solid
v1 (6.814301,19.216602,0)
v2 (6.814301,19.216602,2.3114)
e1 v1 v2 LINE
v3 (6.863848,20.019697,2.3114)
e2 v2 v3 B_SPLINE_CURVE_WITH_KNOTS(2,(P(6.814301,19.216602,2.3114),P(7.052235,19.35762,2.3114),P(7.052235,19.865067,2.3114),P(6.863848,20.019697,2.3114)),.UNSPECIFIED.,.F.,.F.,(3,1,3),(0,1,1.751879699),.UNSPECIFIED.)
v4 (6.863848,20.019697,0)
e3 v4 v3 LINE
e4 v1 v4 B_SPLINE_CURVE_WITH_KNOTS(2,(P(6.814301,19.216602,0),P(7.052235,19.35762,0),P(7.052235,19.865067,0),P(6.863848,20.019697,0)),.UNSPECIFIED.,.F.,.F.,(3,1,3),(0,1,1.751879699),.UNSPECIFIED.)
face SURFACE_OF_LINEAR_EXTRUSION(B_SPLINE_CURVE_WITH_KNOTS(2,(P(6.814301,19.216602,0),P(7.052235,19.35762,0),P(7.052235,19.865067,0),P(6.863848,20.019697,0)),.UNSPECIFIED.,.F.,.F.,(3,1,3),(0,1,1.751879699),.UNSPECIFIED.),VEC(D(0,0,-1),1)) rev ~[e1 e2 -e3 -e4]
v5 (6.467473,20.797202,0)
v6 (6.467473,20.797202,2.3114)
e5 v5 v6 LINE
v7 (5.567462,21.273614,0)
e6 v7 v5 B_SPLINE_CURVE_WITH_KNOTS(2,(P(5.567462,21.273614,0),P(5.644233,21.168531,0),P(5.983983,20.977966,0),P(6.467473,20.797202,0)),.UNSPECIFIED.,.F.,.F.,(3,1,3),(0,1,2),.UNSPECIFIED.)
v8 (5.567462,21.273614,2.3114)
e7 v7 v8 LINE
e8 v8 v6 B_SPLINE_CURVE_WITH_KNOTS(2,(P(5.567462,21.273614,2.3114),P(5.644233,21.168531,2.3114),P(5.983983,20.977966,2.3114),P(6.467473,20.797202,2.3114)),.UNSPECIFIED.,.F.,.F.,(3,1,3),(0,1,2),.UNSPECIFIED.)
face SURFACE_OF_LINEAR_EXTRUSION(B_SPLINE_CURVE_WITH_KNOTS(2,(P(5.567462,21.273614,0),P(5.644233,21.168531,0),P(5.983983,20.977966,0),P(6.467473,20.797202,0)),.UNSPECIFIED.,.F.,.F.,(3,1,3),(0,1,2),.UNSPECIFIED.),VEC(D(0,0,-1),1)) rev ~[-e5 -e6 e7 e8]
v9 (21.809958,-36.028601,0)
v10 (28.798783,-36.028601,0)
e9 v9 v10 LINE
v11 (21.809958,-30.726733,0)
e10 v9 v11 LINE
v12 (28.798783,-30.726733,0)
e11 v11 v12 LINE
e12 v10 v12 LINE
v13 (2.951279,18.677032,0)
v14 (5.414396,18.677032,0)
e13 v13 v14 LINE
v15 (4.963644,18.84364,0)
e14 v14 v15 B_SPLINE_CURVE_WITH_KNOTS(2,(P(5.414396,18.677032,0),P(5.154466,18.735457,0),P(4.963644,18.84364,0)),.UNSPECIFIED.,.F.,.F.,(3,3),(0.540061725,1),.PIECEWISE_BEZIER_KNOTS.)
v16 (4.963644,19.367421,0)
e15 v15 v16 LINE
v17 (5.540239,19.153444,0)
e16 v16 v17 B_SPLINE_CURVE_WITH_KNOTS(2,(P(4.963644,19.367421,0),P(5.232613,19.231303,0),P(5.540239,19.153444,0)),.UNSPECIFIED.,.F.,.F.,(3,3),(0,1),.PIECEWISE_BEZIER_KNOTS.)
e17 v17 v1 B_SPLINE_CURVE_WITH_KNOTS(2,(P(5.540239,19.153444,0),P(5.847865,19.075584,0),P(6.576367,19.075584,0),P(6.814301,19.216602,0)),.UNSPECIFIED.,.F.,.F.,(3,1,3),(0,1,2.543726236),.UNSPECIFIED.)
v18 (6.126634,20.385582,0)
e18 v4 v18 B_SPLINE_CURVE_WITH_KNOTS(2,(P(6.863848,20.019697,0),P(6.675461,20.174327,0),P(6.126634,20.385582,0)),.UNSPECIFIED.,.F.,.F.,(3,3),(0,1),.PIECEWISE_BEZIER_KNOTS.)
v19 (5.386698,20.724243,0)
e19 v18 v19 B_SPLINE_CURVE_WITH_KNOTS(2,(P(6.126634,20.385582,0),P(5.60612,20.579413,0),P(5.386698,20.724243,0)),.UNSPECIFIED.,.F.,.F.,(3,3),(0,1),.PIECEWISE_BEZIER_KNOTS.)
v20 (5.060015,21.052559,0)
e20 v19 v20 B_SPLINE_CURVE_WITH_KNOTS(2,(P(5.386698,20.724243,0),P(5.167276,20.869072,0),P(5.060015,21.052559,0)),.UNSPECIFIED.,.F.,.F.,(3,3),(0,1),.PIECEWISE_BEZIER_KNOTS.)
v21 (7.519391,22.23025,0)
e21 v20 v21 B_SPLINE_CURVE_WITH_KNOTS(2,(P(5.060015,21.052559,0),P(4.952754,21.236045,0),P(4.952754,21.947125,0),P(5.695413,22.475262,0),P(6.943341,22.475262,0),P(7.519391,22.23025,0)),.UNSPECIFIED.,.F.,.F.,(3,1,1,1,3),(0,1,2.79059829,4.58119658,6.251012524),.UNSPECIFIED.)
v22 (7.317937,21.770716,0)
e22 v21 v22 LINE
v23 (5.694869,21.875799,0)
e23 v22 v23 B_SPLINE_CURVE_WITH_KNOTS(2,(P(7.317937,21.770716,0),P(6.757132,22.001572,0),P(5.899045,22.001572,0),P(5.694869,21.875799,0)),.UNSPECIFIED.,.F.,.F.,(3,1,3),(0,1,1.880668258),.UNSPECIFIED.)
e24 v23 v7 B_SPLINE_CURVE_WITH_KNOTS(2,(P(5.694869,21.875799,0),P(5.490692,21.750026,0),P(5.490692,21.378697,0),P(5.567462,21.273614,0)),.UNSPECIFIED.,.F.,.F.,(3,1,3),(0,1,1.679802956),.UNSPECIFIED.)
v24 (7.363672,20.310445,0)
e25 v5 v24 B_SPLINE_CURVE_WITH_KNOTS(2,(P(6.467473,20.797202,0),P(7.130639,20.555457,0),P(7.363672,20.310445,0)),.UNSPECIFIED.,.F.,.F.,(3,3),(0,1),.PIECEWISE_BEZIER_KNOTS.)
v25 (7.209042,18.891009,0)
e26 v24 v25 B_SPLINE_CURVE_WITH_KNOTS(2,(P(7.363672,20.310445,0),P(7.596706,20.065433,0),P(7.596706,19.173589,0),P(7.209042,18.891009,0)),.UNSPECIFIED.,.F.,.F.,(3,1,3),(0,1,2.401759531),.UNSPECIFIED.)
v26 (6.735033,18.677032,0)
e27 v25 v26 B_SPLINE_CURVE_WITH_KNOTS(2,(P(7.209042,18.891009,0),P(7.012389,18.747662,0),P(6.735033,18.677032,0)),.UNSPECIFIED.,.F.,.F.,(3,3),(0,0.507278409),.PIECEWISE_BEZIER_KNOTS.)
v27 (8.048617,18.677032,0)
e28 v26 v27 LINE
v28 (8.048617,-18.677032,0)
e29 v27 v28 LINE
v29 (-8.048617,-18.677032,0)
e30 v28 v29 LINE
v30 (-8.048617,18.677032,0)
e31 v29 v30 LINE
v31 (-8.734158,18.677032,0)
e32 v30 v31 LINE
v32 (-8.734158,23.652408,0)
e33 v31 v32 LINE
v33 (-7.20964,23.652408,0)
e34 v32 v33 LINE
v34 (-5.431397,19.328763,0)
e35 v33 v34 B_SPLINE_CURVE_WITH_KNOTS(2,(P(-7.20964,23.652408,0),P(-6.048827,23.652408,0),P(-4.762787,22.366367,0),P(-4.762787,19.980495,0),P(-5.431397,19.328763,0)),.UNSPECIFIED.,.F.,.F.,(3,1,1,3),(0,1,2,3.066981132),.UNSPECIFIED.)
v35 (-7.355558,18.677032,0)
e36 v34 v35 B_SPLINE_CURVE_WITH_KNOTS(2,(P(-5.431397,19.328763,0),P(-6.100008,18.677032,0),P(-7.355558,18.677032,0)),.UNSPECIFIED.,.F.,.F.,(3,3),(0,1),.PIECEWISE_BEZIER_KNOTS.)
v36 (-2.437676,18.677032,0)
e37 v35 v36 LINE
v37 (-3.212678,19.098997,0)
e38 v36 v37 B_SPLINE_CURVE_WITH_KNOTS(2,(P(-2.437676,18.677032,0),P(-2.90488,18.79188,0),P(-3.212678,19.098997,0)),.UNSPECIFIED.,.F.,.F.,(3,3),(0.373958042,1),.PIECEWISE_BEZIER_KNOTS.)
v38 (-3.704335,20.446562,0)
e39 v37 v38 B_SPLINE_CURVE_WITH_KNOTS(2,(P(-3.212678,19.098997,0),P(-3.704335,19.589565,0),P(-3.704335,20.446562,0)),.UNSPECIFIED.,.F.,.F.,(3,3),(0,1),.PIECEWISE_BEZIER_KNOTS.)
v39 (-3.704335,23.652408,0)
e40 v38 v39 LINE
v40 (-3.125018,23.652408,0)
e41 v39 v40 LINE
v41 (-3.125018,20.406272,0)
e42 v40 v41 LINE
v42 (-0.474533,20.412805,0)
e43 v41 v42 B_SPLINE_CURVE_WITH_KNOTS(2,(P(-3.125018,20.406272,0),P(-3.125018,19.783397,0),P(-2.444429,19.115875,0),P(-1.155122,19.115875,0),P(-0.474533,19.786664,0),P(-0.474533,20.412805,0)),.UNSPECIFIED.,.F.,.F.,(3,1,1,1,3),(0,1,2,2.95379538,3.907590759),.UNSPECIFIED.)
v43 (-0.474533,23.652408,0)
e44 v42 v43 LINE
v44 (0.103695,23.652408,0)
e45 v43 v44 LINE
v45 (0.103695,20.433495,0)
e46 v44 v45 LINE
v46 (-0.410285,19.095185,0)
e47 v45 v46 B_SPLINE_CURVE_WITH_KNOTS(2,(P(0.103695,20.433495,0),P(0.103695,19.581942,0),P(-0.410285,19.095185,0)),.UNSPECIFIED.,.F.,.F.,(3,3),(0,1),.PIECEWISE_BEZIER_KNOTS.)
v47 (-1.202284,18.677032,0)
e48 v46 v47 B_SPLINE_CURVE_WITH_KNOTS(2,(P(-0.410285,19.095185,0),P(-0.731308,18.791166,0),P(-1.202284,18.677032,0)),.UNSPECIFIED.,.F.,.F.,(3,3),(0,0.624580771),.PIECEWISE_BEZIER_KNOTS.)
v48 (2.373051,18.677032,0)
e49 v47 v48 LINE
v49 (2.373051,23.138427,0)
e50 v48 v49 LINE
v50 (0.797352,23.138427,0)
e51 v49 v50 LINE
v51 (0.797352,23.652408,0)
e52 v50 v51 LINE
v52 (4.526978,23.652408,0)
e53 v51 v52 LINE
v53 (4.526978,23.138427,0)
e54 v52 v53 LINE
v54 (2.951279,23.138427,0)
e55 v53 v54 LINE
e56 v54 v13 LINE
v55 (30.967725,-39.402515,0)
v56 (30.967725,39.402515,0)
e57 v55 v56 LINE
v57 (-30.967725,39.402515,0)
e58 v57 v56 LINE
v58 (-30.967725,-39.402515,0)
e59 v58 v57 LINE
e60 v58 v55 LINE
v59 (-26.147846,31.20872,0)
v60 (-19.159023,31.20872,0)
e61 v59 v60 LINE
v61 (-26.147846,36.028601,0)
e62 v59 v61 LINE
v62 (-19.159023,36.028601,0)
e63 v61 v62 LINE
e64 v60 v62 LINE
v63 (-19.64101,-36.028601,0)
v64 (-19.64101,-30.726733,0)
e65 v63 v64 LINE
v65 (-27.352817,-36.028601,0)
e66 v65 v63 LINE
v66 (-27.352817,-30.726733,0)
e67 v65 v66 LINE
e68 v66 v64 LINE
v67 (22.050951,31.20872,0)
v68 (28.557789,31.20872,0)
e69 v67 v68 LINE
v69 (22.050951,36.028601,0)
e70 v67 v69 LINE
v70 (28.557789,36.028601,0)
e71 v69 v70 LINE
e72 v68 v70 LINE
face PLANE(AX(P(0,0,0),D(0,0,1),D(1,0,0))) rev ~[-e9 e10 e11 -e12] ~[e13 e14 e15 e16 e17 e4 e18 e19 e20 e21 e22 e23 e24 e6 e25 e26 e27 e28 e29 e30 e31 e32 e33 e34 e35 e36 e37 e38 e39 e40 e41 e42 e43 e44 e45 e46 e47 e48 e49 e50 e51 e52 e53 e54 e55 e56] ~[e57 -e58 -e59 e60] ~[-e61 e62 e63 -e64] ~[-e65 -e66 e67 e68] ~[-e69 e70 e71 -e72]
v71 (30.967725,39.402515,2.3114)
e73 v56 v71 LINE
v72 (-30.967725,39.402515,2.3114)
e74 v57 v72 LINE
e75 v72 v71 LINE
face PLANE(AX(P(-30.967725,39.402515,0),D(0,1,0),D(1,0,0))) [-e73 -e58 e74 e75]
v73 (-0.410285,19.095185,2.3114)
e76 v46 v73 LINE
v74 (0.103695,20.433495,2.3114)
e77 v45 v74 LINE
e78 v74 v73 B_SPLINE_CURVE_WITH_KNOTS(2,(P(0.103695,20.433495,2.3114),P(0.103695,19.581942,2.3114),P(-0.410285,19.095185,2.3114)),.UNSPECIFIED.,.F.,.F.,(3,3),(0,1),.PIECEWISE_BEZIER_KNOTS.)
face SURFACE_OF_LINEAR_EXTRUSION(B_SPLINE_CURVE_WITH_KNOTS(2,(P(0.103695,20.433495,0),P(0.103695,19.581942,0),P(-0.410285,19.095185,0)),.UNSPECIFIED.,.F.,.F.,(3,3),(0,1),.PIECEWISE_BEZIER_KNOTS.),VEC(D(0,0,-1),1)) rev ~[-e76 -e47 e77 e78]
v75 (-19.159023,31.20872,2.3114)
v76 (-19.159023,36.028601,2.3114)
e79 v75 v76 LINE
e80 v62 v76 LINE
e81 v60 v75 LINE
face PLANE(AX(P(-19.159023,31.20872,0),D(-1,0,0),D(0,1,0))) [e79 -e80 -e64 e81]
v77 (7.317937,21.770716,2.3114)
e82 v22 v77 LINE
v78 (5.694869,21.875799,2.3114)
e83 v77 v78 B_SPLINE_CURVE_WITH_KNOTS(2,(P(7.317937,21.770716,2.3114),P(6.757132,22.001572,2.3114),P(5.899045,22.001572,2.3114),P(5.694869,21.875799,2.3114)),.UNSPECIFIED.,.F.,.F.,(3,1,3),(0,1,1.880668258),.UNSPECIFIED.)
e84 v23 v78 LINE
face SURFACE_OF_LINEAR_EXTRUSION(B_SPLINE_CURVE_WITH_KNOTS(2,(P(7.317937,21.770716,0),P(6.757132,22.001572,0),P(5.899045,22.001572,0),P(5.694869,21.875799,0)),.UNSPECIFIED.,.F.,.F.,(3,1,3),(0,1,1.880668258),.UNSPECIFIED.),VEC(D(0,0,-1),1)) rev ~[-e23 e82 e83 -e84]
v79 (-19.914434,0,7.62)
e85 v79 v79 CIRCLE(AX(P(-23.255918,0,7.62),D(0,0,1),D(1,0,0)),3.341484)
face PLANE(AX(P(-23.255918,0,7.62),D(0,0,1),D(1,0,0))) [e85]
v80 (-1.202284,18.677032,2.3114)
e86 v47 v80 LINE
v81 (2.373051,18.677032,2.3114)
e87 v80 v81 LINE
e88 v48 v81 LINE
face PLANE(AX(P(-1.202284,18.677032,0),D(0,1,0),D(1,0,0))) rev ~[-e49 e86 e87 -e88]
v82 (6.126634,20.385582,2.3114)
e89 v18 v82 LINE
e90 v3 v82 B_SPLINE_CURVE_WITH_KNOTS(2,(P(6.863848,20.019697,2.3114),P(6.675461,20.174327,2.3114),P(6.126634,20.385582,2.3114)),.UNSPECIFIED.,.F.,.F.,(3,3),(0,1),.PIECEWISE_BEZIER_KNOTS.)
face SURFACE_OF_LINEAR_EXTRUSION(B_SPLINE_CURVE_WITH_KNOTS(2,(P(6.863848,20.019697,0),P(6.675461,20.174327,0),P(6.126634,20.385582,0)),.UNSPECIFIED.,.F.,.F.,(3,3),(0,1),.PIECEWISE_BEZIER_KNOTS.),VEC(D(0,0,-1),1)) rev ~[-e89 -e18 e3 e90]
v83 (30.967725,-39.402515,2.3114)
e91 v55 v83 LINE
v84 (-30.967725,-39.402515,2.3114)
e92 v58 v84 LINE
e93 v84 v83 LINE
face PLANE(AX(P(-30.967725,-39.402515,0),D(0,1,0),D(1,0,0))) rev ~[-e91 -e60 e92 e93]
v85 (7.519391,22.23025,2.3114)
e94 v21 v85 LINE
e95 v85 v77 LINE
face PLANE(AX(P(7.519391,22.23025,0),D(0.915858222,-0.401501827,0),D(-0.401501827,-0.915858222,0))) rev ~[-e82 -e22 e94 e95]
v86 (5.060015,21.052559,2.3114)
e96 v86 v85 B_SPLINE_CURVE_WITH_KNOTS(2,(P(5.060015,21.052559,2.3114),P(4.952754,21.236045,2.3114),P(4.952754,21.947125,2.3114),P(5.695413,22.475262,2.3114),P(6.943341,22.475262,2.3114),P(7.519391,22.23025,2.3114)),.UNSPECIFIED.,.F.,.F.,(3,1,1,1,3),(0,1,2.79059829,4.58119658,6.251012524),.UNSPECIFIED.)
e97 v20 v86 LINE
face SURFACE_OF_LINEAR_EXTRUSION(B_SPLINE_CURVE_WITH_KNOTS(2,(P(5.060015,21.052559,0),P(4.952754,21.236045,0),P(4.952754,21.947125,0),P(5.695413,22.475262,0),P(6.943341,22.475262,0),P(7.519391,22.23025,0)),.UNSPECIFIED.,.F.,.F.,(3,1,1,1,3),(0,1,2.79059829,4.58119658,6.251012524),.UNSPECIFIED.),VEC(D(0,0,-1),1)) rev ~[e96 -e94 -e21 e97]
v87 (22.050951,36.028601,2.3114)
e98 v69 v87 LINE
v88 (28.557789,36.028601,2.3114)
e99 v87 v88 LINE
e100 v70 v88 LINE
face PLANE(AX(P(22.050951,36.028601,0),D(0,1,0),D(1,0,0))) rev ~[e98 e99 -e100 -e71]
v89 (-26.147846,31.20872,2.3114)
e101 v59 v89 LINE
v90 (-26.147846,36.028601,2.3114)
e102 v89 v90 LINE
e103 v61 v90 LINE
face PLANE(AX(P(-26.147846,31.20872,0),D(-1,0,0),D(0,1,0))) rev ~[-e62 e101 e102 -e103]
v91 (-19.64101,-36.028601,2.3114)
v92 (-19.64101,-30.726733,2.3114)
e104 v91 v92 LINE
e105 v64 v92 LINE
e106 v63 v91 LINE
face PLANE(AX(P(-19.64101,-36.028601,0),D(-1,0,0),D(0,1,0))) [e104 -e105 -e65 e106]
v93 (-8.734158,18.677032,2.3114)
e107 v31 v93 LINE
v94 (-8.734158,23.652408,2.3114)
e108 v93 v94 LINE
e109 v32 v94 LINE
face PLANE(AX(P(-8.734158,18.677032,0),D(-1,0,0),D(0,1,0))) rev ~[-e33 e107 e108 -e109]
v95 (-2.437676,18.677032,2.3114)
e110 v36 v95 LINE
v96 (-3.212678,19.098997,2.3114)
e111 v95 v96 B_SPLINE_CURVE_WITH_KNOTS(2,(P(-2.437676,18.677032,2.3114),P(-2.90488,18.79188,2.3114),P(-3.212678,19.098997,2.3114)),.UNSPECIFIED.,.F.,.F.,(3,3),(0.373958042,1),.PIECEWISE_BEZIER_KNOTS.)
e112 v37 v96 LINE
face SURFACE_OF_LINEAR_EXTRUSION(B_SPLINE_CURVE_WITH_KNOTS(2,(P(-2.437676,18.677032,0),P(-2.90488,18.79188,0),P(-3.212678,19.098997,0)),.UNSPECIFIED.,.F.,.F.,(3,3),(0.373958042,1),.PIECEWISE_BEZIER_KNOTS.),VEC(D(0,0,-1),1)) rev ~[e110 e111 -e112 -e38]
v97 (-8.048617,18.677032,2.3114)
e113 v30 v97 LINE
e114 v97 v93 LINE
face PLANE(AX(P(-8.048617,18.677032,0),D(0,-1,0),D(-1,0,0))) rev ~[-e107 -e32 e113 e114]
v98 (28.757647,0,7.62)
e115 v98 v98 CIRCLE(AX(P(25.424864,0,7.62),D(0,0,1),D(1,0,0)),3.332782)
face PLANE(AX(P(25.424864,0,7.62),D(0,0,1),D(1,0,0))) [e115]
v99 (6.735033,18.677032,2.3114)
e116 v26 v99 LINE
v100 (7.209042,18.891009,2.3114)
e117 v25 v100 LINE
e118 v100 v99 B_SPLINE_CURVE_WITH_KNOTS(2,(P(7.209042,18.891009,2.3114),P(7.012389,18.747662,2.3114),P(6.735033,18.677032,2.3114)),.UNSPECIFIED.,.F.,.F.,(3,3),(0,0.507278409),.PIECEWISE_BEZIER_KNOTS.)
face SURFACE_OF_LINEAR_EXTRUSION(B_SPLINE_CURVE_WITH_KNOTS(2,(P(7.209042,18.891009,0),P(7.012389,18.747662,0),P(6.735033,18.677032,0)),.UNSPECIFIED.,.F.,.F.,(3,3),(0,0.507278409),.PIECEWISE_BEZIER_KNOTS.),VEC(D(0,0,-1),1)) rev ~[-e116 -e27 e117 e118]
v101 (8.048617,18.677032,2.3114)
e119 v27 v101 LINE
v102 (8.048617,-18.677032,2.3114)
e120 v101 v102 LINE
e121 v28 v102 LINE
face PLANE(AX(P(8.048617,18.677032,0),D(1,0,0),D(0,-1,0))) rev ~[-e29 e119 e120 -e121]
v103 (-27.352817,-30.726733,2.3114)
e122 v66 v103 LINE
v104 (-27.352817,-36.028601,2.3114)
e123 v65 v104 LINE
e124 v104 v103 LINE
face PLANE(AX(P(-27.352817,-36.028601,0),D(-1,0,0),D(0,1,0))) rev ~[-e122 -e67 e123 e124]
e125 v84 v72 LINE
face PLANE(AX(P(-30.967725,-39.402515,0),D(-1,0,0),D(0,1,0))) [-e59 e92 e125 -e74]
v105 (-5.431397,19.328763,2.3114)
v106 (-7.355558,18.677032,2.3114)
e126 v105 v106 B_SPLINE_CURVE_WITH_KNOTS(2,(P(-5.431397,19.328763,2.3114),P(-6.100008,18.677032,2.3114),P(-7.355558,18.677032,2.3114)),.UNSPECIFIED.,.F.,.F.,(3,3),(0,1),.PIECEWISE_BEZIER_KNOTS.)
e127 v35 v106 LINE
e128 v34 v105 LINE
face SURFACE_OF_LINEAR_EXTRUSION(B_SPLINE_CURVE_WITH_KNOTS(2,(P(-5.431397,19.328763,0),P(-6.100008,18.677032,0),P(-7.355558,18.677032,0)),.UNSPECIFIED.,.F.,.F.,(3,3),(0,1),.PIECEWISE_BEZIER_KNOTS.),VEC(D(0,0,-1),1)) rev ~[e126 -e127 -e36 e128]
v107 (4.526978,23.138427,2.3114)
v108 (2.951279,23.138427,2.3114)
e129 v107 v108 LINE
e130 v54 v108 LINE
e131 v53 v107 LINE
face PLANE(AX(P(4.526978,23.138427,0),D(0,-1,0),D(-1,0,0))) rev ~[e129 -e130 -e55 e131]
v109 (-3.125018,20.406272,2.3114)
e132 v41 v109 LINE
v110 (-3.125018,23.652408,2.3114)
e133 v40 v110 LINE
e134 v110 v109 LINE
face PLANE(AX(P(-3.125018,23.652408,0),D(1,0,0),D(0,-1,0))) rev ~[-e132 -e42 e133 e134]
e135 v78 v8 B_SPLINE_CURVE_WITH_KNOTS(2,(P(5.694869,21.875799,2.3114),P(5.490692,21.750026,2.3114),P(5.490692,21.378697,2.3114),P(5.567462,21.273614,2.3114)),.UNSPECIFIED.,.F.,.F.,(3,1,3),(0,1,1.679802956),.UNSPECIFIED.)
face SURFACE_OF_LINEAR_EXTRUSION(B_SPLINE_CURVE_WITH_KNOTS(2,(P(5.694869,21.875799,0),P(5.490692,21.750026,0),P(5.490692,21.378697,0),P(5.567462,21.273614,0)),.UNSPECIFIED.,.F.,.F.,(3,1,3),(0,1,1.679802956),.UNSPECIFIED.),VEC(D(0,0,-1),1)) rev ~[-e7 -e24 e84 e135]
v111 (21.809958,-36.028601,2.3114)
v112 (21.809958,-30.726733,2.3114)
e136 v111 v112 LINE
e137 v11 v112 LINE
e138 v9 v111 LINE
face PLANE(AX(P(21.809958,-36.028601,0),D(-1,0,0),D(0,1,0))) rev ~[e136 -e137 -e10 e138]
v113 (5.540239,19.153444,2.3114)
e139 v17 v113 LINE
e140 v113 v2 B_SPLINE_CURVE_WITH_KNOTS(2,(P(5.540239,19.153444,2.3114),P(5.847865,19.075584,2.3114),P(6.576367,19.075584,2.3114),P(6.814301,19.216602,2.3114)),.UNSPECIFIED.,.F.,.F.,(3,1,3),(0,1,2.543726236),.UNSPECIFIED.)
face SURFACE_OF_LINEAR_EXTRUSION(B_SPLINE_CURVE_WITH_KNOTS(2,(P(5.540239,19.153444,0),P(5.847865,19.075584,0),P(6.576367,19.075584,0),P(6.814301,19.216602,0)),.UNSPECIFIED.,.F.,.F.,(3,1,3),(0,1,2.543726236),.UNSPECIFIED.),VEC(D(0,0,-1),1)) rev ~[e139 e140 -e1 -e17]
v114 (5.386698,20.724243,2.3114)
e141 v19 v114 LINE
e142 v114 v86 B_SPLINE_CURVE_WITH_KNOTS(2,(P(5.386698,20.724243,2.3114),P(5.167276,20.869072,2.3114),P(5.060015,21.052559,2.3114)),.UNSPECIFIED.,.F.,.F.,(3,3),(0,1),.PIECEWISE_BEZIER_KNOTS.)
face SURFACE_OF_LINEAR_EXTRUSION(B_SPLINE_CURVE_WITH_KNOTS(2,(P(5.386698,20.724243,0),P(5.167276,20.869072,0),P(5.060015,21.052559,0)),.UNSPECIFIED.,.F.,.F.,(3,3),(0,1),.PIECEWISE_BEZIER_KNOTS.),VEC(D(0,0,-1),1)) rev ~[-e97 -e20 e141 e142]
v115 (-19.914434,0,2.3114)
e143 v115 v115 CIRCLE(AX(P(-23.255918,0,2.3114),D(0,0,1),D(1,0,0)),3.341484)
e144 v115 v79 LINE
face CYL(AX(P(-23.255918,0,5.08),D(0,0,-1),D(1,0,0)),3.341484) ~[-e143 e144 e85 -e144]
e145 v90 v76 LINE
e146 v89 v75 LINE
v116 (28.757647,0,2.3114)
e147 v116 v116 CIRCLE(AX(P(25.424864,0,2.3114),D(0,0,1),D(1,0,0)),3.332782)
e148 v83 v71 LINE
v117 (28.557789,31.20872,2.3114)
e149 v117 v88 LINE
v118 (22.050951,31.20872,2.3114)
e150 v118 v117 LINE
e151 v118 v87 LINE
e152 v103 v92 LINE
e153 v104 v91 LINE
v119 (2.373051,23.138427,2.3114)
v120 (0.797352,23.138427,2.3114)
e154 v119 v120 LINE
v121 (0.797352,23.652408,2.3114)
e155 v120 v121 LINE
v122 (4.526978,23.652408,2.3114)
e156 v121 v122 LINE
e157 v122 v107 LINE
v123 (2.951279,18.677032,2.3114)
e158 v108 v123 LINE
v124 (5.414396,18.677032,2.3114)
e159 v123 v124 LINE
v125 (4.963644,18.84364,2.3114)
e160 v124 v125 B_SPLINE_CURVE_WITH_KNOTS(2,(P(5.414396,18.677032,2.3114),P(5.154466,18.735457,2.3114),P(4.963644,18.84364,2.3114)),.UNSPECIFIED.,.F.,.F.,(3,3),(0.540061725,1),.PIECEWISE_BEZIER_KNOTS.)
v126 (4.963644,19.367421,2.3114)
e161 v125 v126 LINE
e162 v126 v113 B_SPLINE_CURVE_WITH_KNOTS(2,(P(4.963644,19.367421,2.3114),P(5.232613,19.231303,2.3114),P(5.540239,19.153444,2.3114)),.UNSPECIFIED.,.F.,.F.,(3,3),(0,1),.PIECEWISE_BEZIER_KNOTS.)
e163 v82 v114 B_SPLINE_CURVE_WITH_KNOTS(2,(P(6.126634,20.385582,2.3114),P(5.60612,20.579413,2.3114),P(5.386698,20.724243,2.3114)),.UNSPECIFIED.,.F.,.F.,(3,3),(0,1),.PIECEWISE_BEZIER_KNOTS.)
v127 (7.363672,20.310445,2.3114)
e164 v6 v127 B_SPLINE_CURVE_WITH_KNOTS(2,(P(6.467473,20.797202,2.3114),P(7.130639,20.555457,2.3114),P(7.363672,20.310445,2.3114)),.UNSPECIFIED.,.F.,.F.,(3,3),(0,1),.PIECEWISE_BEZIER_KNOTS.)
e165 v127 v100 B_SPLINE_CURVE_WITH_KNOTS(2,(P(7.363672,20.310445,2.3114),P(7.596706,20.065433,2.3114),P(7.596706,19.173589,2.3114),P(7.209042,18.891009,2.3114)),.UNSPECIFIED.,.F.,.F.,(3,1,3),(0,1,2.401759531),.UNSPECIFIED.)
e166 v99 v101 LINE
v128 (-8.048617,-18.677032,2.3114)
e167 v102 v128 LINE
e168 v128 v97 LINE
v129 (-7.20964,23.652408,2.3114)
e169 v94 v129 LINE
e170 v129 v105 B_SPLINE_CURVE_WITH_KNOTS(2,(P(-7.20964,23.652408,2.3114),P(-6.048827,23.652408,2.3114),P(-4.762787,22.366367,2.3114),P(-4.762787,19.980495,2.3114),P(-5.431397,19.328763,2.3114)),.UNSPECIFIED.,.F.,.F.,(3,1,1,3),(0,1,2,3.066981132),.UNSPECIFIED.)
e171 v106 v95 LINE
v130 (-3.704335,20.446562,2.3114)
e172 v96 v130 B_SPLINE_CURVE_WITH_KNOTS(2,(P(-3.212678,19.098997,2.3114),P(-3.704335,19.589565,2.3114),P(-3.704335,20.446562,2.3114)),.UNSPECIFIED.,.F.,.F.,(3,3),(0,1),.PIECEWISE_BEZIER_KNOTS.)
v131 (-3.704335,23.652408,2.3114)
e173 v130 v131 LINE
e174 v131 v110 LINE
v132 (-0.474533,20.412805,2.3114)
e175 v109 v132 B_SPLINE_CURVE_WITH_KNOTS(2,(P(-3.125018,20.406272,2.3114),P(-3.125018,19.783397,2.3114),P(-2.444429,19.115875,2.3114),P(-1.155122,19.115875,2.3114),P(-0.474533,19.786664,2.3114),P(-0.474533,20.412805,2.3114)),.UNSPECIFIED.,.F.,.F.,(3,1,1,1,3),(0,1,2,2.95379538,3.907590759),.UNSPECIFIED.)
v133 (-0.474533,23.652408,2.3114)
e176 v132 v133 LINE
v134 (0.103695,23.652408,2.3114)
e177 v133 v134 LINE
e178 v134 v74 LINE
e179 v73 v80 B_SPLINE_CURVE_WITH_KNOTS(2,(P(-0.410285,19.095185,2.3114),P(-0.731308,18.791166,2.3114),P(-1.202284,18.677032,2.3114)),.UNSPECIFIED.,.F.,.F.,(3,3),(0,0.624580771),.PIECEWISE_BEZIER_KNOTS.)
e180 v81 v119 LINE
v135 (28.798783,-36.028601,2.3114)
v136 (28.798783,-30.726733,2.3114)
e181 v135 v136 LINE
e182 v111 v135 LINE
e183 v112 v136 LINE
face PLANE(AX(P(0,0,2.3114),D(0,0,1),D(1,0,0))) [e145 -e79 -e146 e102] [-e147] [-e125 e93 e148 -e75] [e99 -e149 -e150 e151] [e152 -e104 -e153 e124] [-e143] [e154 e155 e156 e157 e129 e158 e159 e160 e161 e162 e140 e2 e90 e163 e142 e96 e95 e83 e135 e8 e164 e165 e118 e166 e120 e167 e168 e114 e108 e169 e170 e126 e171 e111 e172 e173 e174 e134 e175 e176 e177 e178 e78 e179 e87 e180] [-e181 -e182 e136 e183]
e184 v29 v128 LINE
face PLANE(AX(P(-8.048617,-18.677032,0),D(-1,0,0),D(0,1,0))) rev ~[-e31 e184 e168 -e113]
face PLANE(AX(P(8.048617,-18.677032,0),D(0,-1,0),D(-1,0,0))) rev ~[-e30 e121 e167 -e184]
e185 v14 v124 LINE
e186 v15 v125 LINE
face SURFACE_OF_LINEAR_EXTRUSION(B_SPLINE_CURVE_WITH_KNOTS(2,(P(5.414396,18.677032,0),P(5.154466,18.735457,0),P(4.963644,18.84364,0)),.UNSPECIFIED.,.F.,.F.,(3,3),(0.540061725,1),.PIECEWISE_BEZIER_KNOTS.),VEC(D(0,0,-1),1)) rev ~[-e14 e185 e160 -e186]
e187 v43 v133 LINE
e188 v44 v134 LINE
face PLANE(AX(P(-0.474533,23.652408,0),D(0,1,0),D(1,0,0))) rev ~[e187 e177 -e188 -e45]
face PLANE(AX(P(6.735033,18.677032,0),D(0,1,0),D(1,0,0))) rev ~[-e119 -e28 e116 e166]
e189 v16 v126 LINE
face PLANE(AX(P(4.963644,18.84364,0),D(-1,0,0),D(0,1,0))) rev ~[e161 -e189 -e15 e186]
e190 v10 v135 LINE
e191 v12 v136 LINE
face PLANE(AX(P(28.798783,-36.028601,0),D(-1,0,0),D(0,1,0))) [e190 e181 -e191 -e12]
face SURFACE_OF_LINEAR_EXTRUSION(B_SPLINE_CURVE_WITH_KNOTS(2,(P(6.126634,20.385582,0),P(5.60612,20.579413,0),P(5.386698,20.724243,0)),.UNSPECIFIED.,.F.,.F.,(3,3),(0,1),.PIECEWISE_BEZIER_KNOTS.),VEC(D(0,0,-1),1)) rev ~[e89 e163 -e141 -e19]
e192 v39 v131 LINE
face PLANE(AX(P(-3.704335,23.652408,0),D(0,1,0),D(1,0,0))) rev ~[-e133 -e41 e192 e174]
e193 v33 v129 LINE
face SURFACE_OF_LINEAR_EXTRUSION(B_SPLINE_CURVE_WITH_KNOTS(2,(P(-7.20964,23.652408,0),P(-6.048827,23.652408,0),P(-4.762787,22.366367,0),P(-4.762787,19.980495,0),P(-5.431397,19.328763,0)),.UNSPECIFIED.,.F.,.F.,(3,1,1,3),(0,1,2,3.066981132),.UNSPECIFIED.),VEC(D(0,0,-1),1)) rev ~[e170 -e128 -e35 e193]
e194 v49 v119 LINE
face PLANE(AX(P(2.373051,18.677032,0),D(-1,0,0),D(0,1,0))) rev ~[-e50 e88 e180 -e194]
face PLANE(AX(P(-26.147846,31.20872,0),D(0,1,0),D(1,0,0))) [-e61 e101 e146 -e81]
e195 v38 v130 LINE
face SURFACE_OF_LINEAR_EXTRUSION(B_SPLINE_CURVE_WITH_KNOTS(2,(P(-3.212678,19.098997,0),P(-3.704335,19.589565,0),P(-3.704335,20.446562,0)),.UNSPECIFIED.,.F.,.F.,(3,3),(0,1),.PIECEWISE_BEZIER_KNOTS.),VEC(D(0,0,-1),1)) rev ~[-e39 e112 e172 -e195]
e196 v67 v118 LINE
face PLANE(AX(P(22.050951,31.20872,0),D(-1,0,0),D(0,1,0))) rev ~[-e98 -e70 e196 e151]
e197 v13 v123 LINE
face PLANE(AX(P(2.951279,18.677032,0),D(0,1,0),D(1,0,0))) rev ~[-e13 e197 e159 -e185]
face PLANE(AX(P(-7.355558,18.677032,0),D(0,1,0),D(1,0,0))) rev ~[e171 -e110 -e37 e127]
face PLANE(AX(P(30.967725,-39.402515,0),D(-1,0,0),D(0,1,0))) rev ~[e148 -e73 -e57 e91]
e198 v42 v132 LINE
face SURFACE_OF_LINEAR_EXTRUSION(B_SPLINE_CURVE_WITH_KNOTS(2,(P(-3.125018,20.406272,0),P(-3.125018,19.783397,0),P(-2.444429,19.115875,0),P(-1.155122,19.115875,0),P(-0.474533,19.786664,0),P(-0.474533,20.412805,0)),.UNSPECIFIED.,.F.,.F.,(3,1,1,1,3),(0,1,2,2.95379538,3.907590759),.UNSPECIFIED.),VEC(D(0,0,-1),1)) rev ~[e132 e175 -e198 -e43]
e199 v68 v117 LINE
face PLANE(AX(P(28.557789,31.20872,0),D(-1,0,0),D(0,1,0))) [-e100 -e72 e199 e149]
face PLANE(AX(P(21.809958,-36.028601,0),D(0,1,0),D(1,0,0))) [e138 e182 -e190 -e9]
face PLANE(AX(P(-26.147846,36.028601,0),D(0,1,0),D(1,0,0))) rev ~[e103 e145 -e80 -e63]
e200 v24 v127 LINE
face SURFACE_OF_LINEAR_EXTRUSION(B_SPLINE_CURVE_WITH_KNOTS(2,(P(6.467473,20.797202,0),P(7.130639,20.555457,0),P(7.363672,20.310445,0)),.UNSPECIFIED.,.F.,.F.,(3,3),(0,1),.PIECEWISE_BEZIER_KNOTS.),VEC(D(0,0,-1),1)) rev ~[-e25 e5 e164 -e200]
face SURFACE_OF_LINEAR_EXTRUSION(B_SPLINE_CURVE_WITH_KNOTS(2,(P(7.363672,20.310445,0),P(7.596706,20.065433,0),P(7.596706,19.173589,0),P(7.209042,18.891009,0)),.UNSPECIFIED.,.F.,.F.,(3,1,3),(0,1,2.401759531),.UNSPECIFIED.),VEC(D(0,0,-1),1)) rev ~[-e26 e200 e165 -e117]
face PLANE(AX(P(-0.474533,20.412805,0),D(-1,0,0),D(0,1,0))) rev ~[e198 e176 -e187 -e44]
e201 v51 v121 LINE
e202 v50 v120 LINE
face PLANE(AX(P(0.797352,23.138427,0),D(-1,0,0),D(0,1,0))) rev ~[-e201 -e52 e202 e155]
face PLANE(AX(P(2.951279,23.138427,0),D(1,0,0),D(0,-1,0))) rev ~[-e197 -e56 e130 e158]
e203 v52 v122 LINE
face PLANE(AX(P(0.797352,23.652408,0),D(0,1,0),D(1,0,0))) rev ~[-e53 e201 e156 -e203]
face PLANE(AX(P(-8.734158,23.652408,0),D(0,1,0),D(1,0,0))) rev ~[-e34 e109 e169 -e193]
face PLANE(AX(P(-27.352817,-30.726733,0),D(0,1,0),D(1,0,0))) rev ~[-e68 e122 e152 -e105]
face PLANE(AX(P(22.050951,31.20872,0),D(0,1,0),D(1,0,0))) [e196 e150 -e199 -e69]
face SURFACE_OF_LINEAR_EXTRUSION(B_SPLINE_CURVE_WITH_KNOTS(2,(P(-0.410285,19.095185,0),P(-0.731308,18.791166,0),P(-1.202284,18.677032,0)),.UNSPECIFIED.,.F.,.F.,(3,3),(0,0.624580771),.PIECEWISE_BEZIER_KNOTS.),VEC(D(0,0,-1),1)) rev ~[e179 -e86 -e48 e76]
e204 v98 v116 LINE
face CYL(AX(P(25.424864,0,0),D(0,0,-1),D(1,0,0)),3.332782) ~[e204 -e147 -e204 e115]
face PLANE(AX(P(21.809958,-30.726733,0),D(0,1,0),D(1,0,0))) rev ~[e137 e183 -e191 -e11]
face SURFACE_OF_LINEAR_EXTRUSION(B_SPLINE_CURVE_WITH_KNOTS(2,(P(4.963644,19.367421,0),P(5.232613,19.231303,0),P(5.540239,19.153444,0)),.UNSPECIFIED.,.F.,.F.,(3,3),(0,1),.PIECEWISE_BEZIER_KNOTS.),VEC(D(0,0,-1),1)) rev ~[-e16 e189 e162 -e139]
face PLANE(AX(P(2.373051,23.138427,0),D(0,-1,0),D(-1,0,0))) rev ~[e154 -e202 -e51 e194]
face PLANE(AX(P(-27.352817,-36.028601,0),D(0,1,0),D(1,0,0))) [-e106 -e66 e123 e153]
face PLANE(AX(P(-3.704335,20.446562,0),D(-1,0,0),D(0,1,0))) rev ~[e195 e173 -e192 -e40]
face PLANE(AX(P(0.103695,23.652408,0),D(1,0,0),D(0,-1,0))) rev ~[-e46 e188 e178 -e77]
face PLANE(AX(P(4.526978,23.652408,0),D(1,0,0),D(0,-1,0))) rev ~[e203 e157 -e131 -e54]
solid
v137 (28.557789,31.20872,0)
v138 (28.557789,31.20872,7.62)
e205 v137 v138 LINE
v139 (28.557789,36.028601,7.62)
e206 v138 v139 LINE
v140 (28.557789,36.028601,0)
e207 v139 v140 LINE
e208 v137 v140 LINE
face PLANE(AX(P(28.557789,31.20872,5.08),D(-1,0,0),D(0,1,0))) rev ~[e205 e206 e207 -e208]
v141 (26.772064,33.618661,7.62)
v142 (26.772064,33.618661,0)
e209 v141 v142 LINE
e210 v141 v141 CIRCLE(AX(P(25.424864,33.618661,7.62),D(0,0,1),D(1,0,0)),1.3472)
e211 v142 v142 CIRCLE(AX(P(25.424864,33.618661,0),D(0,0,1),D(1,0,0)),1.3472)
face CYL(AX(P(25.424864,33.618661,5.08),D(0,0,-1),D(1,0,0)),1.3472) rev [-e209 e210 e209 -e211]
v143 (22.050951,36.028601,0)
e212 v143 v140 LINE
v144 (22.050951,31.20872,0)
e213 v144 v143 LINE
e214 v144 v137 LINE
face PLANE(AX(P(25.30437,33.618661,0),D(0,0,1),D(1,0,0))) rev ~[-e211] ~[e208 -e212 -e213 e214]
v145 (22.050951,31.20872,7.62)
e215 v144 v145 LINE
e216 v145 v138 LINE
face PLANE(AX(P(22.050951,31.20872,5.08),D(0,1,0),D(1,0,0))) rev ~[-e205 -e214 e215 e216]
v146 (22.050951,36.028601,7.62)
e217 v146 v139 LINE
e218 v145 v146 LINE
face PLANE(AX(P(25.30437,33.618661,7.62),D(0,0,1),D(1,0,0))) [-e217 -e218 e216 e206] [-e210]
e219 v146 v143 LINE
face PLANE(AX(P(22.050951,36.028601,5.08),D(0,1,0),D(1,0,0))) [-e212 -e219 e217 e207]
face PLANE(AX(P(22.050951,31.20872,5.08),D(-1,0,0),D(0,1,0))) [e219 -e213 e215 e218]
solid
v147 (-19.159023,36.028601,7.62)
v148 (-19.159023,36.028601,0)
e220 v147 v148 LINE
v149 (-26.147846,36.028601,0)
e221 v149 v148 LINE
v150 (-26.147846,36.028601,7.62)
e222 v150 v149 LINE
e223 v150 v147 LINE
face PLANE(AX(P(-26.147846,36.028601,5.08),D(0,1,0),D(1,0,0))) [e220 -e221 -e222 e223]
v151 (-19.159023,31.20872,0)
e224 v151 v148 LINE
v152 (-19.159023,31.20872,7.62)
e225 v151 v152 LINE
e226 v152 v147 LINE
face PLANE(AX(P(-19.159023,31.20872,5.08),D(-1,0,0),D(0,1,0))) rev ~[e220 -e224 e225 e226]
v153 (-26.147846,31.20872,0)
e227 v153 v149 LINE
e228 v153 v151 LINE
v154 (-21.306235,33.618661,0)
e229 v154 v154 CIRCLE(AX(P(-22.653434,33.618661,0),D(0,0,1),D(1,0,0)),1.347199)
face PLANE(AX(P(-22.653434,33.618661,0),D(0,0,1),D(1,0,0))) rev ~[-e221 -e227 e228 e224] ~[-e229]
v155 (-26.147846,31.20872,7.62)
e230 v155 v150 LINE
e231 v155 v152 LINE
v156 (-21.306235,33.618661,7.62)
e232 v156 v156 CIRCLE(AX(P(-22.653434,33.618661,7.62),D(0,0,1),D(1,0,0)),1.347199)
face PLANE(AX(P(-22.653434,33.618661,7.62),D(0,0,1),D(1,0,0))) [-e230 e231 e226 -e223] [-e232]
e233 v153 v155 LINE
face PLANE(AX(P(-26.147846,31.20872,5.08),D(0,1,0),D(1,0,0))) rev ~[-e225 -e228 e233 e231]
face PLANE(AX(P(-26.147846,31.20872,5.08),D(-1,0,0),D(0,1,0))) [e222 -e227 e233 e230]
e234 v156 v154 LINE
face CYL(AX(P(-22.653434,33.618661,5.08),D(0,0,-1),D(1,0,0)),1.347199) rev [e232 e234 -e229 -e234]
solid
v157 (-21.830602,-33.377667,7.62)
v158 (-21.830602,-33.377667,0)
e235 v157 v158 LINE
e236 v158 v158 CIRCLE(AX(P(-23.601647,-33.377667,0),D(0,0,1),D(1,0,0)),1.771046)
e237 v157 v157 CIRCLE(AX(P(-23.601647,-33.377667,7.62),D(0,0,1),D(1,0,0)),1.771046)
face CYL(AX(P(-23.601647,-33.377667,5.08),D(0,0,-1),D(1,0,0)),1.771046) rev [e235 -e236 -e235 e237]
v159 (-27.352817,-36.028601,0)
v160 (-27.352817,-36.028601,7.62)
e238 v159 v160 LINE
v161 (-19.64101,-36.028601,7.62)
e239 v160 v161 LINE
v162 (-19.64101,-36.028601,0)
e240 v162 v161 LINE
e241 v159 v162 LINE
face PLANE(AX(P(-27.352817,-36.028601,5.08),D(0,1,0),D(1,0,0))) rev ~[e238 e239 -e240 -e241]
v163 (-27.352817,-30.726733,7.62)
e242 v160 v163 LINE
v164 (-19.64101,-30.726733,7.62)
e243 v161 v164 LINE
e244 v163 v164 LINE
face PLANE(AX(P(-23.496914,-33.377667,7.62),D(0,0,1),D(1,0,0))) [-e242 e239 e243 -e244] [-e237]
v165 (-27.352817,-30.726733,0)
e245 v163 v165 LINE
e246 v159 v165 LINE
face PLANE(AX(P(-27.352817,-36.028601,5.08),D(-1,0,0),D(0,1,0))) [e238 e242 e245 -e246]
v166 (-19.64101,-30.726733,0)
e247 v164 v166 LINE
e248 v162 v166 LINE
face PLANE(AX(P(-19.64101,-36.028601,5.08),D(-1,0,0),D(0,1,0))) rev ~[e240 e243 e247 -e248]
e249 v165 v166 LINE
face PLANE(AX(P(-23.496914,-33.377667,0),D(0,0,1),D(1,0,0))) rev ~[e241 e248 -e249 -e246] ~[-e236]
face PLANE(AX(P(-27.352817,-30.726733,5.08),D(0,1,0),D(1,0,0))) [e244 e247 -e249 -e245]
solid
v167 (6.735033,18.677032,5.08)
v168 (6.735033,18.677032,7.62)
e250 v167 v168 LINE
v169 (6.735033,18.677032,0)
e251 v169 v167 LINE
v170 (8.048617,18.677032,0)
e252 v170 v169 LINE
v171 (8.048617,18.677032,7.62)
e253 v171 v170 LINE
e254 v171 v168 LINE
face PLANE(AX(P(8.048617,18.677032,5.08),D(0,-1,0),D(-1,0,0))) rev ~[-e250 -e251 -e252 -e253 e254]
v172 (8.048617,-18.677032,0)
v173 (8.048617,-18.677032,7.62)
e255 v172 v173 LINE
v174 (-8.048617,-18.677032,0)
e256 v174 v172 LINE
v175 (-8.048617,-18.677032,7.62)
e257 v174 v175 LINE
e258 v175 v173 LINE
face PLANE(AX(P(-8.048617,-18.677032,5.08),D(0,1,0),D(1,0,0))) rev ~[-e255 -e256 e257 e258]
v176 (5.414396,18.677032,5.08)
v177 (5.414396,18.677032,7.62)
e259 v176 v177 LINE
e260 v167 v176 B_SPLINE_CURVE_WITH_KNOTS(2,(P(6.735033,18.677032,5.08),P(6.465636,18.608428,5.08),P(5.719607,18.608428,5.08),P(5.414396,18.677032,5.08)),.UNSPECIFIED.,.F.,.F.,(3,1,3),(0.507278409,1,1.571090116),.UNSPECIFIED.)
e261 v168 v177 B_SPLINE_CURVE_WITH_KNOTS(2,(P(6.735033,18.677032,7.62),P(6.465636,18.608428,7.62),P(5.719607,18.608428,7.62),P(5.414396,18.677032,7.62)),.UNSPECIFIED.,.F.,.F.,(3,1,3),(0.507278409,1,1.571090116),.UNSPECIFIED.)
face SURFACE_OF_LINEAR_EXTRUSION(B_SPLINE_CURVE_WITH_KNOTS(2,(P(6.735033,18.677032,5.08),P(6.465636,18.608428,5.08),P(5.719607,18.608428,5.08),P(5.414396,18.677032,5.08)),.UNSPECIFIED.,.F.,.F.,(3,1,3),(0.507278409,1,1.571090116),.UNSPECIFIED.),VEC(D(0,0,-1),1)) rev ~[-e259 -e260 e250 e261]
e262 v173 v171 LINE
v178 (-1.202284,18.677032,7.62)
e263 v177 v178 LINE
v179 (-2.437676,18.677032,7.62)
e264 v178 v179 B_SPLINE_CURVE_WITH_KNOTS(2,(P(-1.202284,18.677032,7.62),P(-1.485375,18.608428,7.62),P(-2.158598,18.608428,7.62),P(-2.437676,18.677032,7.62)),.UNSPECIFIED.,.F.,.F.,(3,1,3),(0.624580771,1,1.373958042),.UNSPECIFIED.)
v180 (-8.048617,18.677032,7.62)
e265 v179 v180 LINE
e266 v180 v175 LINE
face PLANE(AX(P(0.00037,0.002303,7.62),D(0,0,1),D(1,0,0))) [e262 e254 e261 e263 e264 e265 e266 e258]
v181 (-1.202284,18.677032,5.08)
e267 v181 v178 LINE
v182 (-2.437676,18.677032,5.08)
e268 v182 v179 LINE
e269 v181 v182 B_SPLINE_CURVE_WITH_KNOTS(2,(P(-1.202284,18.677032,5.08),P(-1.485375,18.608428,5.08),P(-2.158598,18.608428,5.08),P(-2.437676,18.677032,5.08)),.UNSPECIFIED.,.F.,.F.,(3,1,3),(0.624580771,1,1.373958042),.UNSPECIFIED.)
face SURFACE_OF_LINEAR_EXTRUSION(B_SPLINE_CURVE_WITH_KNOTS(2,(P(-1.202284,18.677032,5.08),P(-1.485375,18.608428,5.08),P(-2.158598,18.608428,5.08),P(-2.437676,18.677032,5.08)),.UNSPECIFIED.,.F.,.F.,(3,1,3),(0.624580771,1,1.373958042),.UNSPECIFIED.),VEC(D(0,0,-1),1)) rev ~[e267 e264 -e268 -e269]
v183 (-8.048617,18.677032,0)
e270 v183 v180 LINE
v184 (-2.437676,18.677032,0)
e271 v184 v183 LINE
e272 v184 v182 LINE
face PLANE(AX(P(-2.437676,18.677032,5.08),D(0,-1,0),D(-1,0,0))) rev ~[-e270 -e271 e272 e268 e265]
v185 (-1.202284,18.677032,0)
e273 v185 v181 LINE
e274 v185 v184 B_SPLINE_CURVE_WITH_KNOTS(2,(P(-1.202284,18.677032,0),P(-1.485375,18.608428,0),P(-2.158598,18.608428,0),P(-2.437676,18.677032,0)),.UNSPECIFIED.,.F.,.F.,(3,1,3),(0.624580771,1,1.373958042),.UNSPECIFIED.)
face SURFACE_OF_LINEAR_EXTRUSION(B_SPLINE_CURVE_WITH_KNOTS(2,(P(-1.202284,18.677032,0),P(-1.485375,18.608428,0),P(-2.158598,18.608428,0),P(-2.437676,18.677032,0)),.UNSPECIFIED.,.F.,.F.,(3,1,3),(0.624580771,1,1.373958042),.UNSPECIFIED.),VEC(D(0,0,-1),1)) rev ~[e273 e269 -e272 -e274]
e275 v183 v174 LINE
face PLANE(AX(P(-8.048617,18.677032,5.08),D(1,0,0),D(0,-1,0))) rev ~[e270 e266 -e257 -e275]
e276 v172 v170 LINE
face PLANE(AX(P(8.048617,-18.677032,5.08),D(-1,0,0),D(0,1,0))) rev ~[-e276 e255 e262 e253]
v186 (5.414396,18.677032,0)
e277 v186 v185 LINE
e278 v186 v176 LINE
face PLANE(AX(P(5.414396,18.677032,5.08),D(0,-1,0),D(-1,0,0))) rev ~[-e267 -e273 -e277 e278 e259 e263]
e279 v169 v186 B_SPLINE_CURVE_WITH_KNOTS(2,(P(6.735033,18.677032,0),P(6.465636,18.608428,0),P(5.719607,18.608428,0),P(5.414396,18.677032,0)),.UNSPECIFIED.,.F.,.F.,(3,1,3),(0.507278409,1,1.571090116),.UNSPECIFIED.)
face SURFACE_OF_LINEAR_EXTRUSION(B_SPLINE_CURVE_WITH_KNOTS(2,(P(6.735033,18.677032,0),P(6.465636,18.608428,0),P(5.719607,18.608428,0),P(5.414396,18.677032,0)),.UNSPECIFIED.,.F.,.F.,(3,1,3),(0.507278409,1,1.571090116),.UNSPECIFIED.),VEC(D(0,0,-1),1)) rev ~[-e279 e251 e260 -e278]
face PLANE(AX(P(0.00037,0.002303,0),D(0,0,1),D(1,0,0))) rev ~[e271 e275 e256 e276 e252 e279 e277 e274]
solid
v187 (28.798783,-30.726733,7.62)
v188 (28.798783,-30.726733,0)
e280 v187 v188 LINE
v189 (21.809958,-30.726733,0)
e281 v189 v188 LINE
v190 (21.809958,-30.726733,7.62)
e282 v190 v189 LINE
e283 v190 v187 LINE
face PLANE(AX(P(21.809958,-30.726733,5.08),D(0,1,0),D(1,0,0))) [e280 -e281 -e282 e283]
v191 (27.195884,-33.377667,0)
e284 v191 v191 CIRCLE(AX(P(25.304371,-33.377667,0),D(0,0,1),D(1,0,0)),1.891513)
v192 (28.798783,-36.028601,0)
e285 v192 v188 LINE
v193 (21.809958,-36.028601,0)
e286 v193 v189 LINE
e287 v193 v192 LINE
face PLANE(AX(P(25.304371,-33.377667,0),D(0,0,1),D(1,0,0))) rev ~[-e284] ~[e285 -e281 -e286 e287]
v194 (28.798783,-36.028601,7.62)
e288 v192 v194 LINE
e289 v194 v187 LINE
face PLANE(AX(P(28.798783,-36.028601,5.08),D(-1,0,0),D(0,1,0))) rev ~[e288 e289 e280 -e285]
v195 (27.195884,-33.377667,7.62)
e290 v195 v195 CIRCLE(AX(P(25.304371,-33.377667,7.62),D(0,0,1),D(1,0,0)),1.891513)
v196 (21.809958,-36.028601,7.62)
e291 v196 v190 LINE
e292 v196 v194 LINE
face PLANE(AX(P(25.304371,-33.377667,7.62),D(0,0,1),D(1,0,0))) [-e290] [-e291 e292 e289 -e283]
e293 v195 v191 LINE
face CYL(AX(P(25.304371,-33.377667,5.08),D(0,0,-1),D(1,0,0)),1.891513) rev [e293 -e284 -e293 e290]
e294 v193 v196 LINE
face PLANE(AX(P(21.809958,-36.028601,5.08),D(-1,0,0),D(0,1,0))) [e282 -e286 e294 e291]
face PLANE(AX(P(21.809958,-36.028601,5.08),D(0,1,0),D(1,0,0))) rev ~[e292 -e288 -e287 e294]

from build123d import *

# Parameters (mm, degrees)
F0_W     = 7.7118072659
F0_H     = 5.301868543
F0_R     = 1.7710457529
F1_DEPTH = 5.08
F2_DEPTH = 5.08
F0_W_2   = 6.9888234138
F0_H_2   = 4.819881171
F0_R_2   = 1.3471992838
F0_W_3   = 6.5068379045
F0_R_3   = 1.3471999502
F0_W_4   = 6.9888252765
F0_R_4   = 1.8915130698
F0_W_5   = 61.9354508817
F0_H_3   = 78.8050293922
F0_R_5   = 3.3414839528
F0_R_6   = 3.3327824733
F3_DEPTH = 2.3114
F4_DEPTH = 5.08
F5_DEPTH = 5.08
F6_DEPTH = 2.54
F7_DEPTH = 2.54


with BuildPart() as f1:
    # F0 (on Top) → F1 (new body)
    with BuildSketch(Plane.XY):
        with Locations((-23.4969137236, -33.3776669577)):
            Rectangle(F0_W, F0_H)
        with Locations((-23.6016474664, -33.3776669577)):
            Circle(F0_R, mode=Mode.SUBTRACT)
    extrude(amount=F1_DEPTH)

    # F6 (add): a face of the model
    f6_faces = [f1.faces().sort_by_distance(p)[0] for p in [
        (-27.2592322182, -33.3776669577, 5.08),
    ]]
    extrude(f6_faces, amount=F6_DEPTH)


with BuildPart() as f2:
    # F0 (on Top) → F2 (new body)
    with BuildSketch(Plane.XY):
        with BuildLine():
            Line((5.4143961645, 18.6770316213), (2.9512789585, 18.6770316213))
            Line((2.9512789585, 18.6770316213), (2.3730507167, 18.6770316213))
            Line((2.3730507167, 18.6770316213), (-1.2022836336, 18.6770316213))
            add(Edge.make_bspline(
                [(-1.2022836336, 18.6770316213), (-1.4853750183, 18.6084282706), (-1.8226430983, 18.6084282706)],
                knots=[0.6245807712, 0.6245807712, 0.6245807712, 1, 1, 1], degree=2))
            add(Edge.make_bspline(
                [(-1.8226430983, 18.6084282706), (-2.1585984814, 18.6084282706), (-2.4376762806, 18.6770316213)],
                knots=[0, 0, 0, 0.3739580419, 0.3739580419, 0.3739580419], degree=2))
            Line((-2.4376762806, 18.6770316213), (-7.3555577815, 18.6770316213))
            Line((-7.3555577815, 18.6770316213), (-8.0486168117, 18.6770316213))
            Line((-8.0486168117, 18.6770316213), (-8.0486168117, -18.6770316213))
            Line((-8.0486168117, -18.6770316213), (8.0486168117, -18.6770316213))
            Line((8.0486168117, -18.6770316213), (8.0486168117, 18.6770316213))
            Line((8.0486168117, 18.6770316213), (6.7350328843, 18.6770316213))
            add(Edge.make_bspline(
                [(6.7350328843, 18.6770316213), (6.465635552, 18.6084282706), (6.1201003968, 18.6084282706)],
                knots=[0.5072784088, 0.5072784088, 0.5072784088, 1, 1, 1], degree=2))
            add(Edge.make_bspline(
                [(6.1201003968, 18.6084282706), (5.7196070649, 18.6084282706), (5.4143961645, 18.6770316213)],
                knots=[0, 0, 0, 0.5400617249, 0.5400617249, 0.5400617249], degree=2))
        make_face()
    extrude(amount=F2_DEPTH)

    # F7 (add): a face of the model
    f7_faces = [f2.faces().sort_by_distance(p)[0] for p in [
        (-0.0004562, -0.0037266133, 5.08),
    ]]
    extrude(f7_faces, amount=F7_DEPTH)


with BuildPart() as f2b:
    # F0 (on Top) → F2, piece 2 (new body)
    with BuildSketch(Plane.XY):
        with Locations((-22.6534344256, 33.6186606437)):
            Rectangle(F0_W_2, F0_H_2)
        with Locations((-22.6534344256, 33.6186606437)):
            Circle(F0_R_2, mode=Mode.SUBTRACT)
    extrude(amount=F2_DEPTH)

    # F6#3 (add): a face of the model
    f6_3_faces = [f2b.faces().sort_by_distance(p)[0] for p in [
        (-22.6534344256, 35.9437042874, 5.08),
    ]]
    extrude(f6_3_faces, amount=F6_DEPTH)


with BuildPart() as f2c:
    # F0 (on Top) → F2, piece 3 (new body)
    with BuildSketch(Plane.XY):
        with Locations((25.3043696284, 33.6186606437)):
            Rectangle(F0_W_3, F0_H_2)
        with Locations((25.4248641431, 33.6186606437)):
            Circle(F0_R_3, mode=Mode.SUBTRACT)
    extrude(amount=F2_DEPTH)

    # F6#4 (add): a face of the model
    f6_4_faces = [f2c.faces().sort_by_distance(p)[0] for p in [
        (22.1319261009, 33.6186606437, 5.08),
    ]]
    extrude(f6_4_faces, amount=F6_DEPTH)


with BuildPart() as f2d:
    # F0 (on Top) → F2, piece 4 (new body)
    with BuildSketch(Plane.XY):
        with Locations((25.3043705598, -33.3776669577)):
            Rectangle(F0_W_4, F0_H)
        with Locations((25.3043705598, -33.3776669577)):
            Circle(F0_R_4, mode=Mode.SUBTRACT)
    extrude(amount=F2_DEPTH)

    # F6#2 (add): a face of the model
    f6_2_faces = [f2d.faces().sort_by_distance(p)[0] for p in [
        (21.8976810592, -33.3776669577, 5.08),
    ]]
    extrude(f6_2_faces, amount=F6_DEPTH)


with BuildPart() as f3:
    # F0 (on Top) → F3 (new body)
    with BuildSketch(Plane.XY):
        Rectangle(F0_W_5, F0_H_3)
        with Locations((-23.4969137236, -33.3776669577)):
            Rectangle(F0_W, F0_H, mode=Mode.SUBTRACT)
        with Locations((25.3043705598, -33.3776669577)):
            Rectangle(F0_W_4, F0_H, mode=Mode.SUBTRACT)
        with Locations((-23.255918175, 0)):
            Circle(F0_R_5, mode=Mode.SUBTRACT)
        with BuildLine():
            Line((2.9512789585, 23.1384273027), (2.9512789585, 18.6770316213))
            Line((2.9512789585, 18.6770316213), (5.4143961645, 18.6770316213))
            add(Edge.make_bspline(
                [(5.4143961645, 18.6770316213), (5.1544662924, 18.7354569926), (4.9636439132, 18.8436397588)],
                knots=[0.5400617249, 0.5400617249, 0.5400617249, 1, 1, 1], degree=2))
            Line((4.9636439132, 18.8436397588), (4.9636439132, 19.3674208969))
            add(Edge.make_bspline(
                [(4.9636439132, 19.3674208969), (5.2326126057, 19.2313031375), (5.5402387419, 19.1534437792)],
                knots=[0, 0, 0, 1, 1, 1], degree=2))
            add(Edge.make_bspline(
                [(5.5402387419, 19.1534437792), (5.8478648781, 19.0755844208), (6.1342566438, 19.0755844208)],
                knots=[0, 0, 0, 1, 1, 1], degree=2))
            add(Edge.make_bspline(
                [(6.1342566438, 19.0755844208), (6.5763671263, 19.0755844208), (6.8143009696, 19.2166024195)],
                knots=[0, 0, 0, 1, 1, 1], degree=2))
            add(Edge.make_bspline(
                [(6.8143009696, 19.2166024195), (7.052234813, 19.3576204182), (7.052234813, 19.6472790102)],
                knots=[0, 0, 0, 1, 1, 1], degree=2))
            add(Edge.make_bspline(
                [(7.052234813, 19.6472790102), (7.052234813, 19.8650674252), (6.8638478341, 20.0196971998)],
                knots=[0, 0, 0, 1, 1, 1], degree=2))
            add(Edge.make_bspline(
                [(6.8638478341, 20.0196971998), (6.6754608551, 20.1743269745), (6.1266340493, 20.385581737)],
                knots=[0, 0, 0, 1, 1, 1], degree=2))
            add(Edge.make_bspline(
                [(6.1266340493, 20.385581737), (5.6061197374, 20.5794134264), (5.3866979093, 20.7242427224)],
                knots=[0, 0, 0, 1, 1, 1], degree=2))
            add(Edge.make_bspline(
                [(5.3866979093, 20.7242427224), (5.1672760812, 20.8690720183), (5.0600152868, 21.052558758)],
                knots=[0, 0, 0, 1, 1, 1], degree=2))
            add(Edge.make_bspline(
                [(5.0600152868, 21.052558758), (4.9527544924, 21.2360454976), (4.9527544924, 21.4908579432)],
                knots=[0, 0, 0, 1, 1, 1], degree=2))
            add(Edge.make_bspline(
                [(4.9527544924, 21.4908579432), (4.9527544924, 21.9471246726), (5.32408374, 22.2111931258)],
                knots=[0, 0, 0, 1, 1, 1], degree=2))
            add(Edge.make_bspline(
                [(5.32408374, 22.2111931258), (5.6954129876, 22.475261579), (6.341155638, 22.475261579)],
                knots=[0, 0, 0, 1, 1, 1], degree=2))
            add(Edge.make_bspline(
                [(6.341155638, 22.475261579), (6.9433406055, 22.475261579), (7.5193909632, 22.2302496121)],
                knots=[0, 0, 0, 1, 1, 1], degree=2))
            Line((7.5193909632, 22.2302496121), (7.3179366793, 21.7707160565))
            add(Edge.make_bspline(
                [(7.3179366793, 21.7707160565), (6.7571315107, 22.0015717764), (6.3008647813, 22.0015717764)],
                knots=[0, 0, 0, 1, 1, 1], degree=2))
            add(Edge.make_bspline(
                [(6.3008647813, 22.0015717764), (5.8990451556, 22.0015717764), (5.6948685165, 21.8757989667)],
                knots=[0, 0, 0, 1, 1, 1], degree=2))
            add(Edge.make_bspline(
                [(5.6948685165, 21.8757989667), (5.4906918775, 21.750026157), (5.4906918775, 21.5289709158)],
                knots=[0, 0, 0, 1, 1, 1], degree=2))
            add(Edge.make_bspline(
                [(5.4906918775, 21.5289709158), (5.4906918775, 21.3786969094), (5.5674622938, 21.2736139992)],
                knots=[0, 0, 0, 1, 1, 1], degree=2))
            add(Edge.make_bspline(
                [(5.5674622938, 21.2736139992), (5.64423271, 21.168531089), (5.8141076737, 21.0732486574)],
                knots=[0, 0, 0, 1, 1, 1], degree=2))
            add(Edge.make_bspline(
                [(5.8141076737, 21.0732486574), (5.9839826374, 20.9779662258), (6.4674729188, 20.7972018414)],
                knots=[0, 0, 0, 1, 1, 1], degree=2))
            add(Edge.make_bspline(
                [(6.4674729188, 20.7972018414), (7.1306386424, 20.5554567007), (7.3636722465, 20.3104447339)],
                knots=[0, 0, 0, 1, 1, 1], degree=2))
            add(Edge.make_bspline(
                [(7.3636722465, 20.3104447339), (7.5967058505, 20.065432767), (7.5967058505, 19.6941035194)],
                knots=[0, 0, 0, 1, 1, 1], degree=2))
            add(Edge.make_bspline(
                [(7.5967058505, 19.6941035194), (7.5967058505, 19.1735892075), (7.2090424718, 18.8910087391)],
                knots=[0, 0, 0, 1, 1, 1], degree=2))
            add(Edge.make_bspline(
                [(7.2090424718, 18.8910087391), (7.01238921, 18.7476617687), (6.7350328843, 18.6770316213)],
                knots=[0, 0, 0, 0.5072784088, 0.5072784088, 0.5072784088], degree=2))
            Line((6.7350328843, 18.6770316213), (8.0486168117, 18.6770316213))
            Line((8.0486168117, 18.6770316213), (8.0486168117, -18.6770316213))
            Line((8.0486168117, -18.6770316213), (-8.0486168117, -18.6770316213))
            Line((-8.0486168117, -18.6770316213), (-8.0486168117, 18.6770316213))
            Line((-8.0486168117, 18.6770316213), (-8.7341584484, 18.6770316213))
            Line((-8.7341584484, 18.6770316213), (-8.7341584484, 23.6524079621))
            Line((-8.7341584484, 23.6524079621), (-7.2096395434, 23.6524079621))
            add(Edge.make_bspline(
                [(-7.2096395434, 23.6524079621), (-6.0488272915, 23.6524079621), (-5.4058069962, 23.0093876668)],
                knots=[0, 0, 0, 1, 1, 1], degree=2))
            add(Edge.make_bspline(
                [(-5.4058069962, 23.0093876668), (-4.7627867009, 22.3663673715), (-4.7627867009, 21.212088772)],
                knots=[0, 0, 0, 1, 1, 1], degree=2))
            add(Edge.make_bspline(
                [(-4.7627867009, 21.212088772), (-4.7627867009, 19.9804952851), (-5.4313971349, 19.3287634532)],
                knots=[0, 0, 0, 1, 1, 1], degree=2))
            add(Edge.make_bspline(
                [(-5.4313971349, 19.3287634532), (-6.100007569, 18.6770316213), (-7.3555577815, 18.6770316213)],
                knots=[0, 0, 0, 1, 1, 1], degree=2))
            Line((-7.3555577815, 18.6770316213), (-2.4376762806, 18.6770316213))
            add(Edge.make_bspline(
                [(-2.4376762806, 18.6770316213), (-2.9048795289, 18.7918802707), (-3.2126776571, 19.0989966754)],
                knots=[0.3739580419, 0.3739580419, 0.3739580419, 1, 1, 1], degree=2))
            add(Edge.make_bspline(
                [(-3.2126776571, 19.0989966754), (-3.7043350039, 19.5895650802), (-3.7043350039, 20.4465624932)],
                knots=[0, 0, 0, 1, 1, 1], degree=2))
            Line((-3.7043350039, 20.4465624932), (-3.7043350039, 23.6524079621))
            Line((-3.7043350039, 23.6524079621), (-3.12501782, 23.6524079621))
            Line((-3.12501782, 23.6524079621), (-3.12501782, 20.4062716365))
            add(Edge.make_bspline(
                [(-3.12501782, 20.4062716365), (-3.12501782, 19.7833967696), (-2.7847234216, 19.4496360236)],
                knots=[0, 0, 0, 1, 1, 1], degree=2))
            add(Edge.make_bspline(
                [(-2.7847234216, 19.4496360236), (-2.4444290232, 19.1158752776), (-1.7845301257, 19.1158752776)],
                knots=[0, 0, 0, 1, 1, 1], degree=2))
            add(Edge.make_bspline(
                [(-1.7845301257, 19.1158752776), (-1.1551216063, 19.1158752776), (-0.8148272079, 19.4512694367)],
                knots=[0, 0, 0, 1, 1, 1], degree=2))
            add(Edge.make_bspline(
                [(-0.8148272079, 19.4512694367), (-0.4745328095, 19.7866635958), (-0.4745328095, 20.4128052889)],
                knots=[0, 0, 0, 1, 1, 1], degree=2))
            Line((-0.4745328095, 20.4128052889), (-0.4745328095, 23.6524079621))
            Line((-0.4745328095, 23.6524079621), (0.1036954324, 23.6524079621))
            Line((0.1036954324, 23.6524079621), (0.1036954324, 20.4334951883))
            add(Edge.make_bspline(
                [(0.1036954324, 20.4334951883), (0.1036954324, 19.5819424857), (-0.410285227, 19.0951853781)],
                knots=[0, 0, 0, 1, 1, 1], degree=2))
            add(Edge.make_bspline(
                [(-0.410285227, 19.0951853781), (-0.7313076637, 18.7911662485), (-1.2022836336, 18.6770316213)],
                knots=[0, 0, 0, 0.6245807712, 0.6245807712, 0.6245807712], degree=2))
            Line((-1.2022836336, 18.6770316213), (2.3730507167, 18.6770316213))
            Line((2.3730507167, 18.6770316213), (2.3730507167, 23.1384273027))
            Line((2.3730507167, 23.1384273027), (0.7973515342, 23.1384273027))
            Line((0.7973515342, 23.1384273027), (0.7973515342, 23.6524079621))
            Line((0.7973515342, 23.6524079621), (4.5269781411, 23.6524079621))
            Line((4.5269781411, 23.6524079621), (4.5269781411, 23.1384273027))
            Line((4.5269781411, 23.1384273027), (2.9512789585, 23.1384273027))
        make_face(mode=Mode.SUBTRACT)
        with Locations((-22.6534344256, 33.6186606437)):
            Rectangle(F0_W_2, F0_H_2, mode=Mode.SUBTRACT)
        with Locations((25.4248641431, 0)):
            Circle(F0_R_6, mode=Mode.SUBTRACT)
        with Locations((25.3043696284, 33.6186606437)):
            Rectangle(F0_W_3, F0_H_2, mode=Mode.SUBTRACT)
    extrude(amount=F3_DEPTH)

    # F0 (on Top) → F4 (join)
    with BuildSketch(Plane.XY):
        with Locations((25.4248641431, 0)):
            Circle(F0_R_6)
    extrude(amount=F4_DEPTH)

    # F0 (on Top) → F5 (join)
    with BuildSketch(Plane.XY):
        with Locations((-23.255918175, 0)):
            Circle(F0_R_5)
    extrude(amount=F5_DEPTH)

    # F6#5 (add): faces of the model
    f6_5_faces = [f3.faces().sort_by_distance(p)[0] for p in [
        (-23.255918175, 0, 5.08),
        (25.4248641431, 0, 5.08),
    ]]
    extrude(f6_5_faces, amount=F6_DEPTH)


solid = Compound([f1.part, f2.part, f2b.part, f2c.part, f2d.part, f3.part])
